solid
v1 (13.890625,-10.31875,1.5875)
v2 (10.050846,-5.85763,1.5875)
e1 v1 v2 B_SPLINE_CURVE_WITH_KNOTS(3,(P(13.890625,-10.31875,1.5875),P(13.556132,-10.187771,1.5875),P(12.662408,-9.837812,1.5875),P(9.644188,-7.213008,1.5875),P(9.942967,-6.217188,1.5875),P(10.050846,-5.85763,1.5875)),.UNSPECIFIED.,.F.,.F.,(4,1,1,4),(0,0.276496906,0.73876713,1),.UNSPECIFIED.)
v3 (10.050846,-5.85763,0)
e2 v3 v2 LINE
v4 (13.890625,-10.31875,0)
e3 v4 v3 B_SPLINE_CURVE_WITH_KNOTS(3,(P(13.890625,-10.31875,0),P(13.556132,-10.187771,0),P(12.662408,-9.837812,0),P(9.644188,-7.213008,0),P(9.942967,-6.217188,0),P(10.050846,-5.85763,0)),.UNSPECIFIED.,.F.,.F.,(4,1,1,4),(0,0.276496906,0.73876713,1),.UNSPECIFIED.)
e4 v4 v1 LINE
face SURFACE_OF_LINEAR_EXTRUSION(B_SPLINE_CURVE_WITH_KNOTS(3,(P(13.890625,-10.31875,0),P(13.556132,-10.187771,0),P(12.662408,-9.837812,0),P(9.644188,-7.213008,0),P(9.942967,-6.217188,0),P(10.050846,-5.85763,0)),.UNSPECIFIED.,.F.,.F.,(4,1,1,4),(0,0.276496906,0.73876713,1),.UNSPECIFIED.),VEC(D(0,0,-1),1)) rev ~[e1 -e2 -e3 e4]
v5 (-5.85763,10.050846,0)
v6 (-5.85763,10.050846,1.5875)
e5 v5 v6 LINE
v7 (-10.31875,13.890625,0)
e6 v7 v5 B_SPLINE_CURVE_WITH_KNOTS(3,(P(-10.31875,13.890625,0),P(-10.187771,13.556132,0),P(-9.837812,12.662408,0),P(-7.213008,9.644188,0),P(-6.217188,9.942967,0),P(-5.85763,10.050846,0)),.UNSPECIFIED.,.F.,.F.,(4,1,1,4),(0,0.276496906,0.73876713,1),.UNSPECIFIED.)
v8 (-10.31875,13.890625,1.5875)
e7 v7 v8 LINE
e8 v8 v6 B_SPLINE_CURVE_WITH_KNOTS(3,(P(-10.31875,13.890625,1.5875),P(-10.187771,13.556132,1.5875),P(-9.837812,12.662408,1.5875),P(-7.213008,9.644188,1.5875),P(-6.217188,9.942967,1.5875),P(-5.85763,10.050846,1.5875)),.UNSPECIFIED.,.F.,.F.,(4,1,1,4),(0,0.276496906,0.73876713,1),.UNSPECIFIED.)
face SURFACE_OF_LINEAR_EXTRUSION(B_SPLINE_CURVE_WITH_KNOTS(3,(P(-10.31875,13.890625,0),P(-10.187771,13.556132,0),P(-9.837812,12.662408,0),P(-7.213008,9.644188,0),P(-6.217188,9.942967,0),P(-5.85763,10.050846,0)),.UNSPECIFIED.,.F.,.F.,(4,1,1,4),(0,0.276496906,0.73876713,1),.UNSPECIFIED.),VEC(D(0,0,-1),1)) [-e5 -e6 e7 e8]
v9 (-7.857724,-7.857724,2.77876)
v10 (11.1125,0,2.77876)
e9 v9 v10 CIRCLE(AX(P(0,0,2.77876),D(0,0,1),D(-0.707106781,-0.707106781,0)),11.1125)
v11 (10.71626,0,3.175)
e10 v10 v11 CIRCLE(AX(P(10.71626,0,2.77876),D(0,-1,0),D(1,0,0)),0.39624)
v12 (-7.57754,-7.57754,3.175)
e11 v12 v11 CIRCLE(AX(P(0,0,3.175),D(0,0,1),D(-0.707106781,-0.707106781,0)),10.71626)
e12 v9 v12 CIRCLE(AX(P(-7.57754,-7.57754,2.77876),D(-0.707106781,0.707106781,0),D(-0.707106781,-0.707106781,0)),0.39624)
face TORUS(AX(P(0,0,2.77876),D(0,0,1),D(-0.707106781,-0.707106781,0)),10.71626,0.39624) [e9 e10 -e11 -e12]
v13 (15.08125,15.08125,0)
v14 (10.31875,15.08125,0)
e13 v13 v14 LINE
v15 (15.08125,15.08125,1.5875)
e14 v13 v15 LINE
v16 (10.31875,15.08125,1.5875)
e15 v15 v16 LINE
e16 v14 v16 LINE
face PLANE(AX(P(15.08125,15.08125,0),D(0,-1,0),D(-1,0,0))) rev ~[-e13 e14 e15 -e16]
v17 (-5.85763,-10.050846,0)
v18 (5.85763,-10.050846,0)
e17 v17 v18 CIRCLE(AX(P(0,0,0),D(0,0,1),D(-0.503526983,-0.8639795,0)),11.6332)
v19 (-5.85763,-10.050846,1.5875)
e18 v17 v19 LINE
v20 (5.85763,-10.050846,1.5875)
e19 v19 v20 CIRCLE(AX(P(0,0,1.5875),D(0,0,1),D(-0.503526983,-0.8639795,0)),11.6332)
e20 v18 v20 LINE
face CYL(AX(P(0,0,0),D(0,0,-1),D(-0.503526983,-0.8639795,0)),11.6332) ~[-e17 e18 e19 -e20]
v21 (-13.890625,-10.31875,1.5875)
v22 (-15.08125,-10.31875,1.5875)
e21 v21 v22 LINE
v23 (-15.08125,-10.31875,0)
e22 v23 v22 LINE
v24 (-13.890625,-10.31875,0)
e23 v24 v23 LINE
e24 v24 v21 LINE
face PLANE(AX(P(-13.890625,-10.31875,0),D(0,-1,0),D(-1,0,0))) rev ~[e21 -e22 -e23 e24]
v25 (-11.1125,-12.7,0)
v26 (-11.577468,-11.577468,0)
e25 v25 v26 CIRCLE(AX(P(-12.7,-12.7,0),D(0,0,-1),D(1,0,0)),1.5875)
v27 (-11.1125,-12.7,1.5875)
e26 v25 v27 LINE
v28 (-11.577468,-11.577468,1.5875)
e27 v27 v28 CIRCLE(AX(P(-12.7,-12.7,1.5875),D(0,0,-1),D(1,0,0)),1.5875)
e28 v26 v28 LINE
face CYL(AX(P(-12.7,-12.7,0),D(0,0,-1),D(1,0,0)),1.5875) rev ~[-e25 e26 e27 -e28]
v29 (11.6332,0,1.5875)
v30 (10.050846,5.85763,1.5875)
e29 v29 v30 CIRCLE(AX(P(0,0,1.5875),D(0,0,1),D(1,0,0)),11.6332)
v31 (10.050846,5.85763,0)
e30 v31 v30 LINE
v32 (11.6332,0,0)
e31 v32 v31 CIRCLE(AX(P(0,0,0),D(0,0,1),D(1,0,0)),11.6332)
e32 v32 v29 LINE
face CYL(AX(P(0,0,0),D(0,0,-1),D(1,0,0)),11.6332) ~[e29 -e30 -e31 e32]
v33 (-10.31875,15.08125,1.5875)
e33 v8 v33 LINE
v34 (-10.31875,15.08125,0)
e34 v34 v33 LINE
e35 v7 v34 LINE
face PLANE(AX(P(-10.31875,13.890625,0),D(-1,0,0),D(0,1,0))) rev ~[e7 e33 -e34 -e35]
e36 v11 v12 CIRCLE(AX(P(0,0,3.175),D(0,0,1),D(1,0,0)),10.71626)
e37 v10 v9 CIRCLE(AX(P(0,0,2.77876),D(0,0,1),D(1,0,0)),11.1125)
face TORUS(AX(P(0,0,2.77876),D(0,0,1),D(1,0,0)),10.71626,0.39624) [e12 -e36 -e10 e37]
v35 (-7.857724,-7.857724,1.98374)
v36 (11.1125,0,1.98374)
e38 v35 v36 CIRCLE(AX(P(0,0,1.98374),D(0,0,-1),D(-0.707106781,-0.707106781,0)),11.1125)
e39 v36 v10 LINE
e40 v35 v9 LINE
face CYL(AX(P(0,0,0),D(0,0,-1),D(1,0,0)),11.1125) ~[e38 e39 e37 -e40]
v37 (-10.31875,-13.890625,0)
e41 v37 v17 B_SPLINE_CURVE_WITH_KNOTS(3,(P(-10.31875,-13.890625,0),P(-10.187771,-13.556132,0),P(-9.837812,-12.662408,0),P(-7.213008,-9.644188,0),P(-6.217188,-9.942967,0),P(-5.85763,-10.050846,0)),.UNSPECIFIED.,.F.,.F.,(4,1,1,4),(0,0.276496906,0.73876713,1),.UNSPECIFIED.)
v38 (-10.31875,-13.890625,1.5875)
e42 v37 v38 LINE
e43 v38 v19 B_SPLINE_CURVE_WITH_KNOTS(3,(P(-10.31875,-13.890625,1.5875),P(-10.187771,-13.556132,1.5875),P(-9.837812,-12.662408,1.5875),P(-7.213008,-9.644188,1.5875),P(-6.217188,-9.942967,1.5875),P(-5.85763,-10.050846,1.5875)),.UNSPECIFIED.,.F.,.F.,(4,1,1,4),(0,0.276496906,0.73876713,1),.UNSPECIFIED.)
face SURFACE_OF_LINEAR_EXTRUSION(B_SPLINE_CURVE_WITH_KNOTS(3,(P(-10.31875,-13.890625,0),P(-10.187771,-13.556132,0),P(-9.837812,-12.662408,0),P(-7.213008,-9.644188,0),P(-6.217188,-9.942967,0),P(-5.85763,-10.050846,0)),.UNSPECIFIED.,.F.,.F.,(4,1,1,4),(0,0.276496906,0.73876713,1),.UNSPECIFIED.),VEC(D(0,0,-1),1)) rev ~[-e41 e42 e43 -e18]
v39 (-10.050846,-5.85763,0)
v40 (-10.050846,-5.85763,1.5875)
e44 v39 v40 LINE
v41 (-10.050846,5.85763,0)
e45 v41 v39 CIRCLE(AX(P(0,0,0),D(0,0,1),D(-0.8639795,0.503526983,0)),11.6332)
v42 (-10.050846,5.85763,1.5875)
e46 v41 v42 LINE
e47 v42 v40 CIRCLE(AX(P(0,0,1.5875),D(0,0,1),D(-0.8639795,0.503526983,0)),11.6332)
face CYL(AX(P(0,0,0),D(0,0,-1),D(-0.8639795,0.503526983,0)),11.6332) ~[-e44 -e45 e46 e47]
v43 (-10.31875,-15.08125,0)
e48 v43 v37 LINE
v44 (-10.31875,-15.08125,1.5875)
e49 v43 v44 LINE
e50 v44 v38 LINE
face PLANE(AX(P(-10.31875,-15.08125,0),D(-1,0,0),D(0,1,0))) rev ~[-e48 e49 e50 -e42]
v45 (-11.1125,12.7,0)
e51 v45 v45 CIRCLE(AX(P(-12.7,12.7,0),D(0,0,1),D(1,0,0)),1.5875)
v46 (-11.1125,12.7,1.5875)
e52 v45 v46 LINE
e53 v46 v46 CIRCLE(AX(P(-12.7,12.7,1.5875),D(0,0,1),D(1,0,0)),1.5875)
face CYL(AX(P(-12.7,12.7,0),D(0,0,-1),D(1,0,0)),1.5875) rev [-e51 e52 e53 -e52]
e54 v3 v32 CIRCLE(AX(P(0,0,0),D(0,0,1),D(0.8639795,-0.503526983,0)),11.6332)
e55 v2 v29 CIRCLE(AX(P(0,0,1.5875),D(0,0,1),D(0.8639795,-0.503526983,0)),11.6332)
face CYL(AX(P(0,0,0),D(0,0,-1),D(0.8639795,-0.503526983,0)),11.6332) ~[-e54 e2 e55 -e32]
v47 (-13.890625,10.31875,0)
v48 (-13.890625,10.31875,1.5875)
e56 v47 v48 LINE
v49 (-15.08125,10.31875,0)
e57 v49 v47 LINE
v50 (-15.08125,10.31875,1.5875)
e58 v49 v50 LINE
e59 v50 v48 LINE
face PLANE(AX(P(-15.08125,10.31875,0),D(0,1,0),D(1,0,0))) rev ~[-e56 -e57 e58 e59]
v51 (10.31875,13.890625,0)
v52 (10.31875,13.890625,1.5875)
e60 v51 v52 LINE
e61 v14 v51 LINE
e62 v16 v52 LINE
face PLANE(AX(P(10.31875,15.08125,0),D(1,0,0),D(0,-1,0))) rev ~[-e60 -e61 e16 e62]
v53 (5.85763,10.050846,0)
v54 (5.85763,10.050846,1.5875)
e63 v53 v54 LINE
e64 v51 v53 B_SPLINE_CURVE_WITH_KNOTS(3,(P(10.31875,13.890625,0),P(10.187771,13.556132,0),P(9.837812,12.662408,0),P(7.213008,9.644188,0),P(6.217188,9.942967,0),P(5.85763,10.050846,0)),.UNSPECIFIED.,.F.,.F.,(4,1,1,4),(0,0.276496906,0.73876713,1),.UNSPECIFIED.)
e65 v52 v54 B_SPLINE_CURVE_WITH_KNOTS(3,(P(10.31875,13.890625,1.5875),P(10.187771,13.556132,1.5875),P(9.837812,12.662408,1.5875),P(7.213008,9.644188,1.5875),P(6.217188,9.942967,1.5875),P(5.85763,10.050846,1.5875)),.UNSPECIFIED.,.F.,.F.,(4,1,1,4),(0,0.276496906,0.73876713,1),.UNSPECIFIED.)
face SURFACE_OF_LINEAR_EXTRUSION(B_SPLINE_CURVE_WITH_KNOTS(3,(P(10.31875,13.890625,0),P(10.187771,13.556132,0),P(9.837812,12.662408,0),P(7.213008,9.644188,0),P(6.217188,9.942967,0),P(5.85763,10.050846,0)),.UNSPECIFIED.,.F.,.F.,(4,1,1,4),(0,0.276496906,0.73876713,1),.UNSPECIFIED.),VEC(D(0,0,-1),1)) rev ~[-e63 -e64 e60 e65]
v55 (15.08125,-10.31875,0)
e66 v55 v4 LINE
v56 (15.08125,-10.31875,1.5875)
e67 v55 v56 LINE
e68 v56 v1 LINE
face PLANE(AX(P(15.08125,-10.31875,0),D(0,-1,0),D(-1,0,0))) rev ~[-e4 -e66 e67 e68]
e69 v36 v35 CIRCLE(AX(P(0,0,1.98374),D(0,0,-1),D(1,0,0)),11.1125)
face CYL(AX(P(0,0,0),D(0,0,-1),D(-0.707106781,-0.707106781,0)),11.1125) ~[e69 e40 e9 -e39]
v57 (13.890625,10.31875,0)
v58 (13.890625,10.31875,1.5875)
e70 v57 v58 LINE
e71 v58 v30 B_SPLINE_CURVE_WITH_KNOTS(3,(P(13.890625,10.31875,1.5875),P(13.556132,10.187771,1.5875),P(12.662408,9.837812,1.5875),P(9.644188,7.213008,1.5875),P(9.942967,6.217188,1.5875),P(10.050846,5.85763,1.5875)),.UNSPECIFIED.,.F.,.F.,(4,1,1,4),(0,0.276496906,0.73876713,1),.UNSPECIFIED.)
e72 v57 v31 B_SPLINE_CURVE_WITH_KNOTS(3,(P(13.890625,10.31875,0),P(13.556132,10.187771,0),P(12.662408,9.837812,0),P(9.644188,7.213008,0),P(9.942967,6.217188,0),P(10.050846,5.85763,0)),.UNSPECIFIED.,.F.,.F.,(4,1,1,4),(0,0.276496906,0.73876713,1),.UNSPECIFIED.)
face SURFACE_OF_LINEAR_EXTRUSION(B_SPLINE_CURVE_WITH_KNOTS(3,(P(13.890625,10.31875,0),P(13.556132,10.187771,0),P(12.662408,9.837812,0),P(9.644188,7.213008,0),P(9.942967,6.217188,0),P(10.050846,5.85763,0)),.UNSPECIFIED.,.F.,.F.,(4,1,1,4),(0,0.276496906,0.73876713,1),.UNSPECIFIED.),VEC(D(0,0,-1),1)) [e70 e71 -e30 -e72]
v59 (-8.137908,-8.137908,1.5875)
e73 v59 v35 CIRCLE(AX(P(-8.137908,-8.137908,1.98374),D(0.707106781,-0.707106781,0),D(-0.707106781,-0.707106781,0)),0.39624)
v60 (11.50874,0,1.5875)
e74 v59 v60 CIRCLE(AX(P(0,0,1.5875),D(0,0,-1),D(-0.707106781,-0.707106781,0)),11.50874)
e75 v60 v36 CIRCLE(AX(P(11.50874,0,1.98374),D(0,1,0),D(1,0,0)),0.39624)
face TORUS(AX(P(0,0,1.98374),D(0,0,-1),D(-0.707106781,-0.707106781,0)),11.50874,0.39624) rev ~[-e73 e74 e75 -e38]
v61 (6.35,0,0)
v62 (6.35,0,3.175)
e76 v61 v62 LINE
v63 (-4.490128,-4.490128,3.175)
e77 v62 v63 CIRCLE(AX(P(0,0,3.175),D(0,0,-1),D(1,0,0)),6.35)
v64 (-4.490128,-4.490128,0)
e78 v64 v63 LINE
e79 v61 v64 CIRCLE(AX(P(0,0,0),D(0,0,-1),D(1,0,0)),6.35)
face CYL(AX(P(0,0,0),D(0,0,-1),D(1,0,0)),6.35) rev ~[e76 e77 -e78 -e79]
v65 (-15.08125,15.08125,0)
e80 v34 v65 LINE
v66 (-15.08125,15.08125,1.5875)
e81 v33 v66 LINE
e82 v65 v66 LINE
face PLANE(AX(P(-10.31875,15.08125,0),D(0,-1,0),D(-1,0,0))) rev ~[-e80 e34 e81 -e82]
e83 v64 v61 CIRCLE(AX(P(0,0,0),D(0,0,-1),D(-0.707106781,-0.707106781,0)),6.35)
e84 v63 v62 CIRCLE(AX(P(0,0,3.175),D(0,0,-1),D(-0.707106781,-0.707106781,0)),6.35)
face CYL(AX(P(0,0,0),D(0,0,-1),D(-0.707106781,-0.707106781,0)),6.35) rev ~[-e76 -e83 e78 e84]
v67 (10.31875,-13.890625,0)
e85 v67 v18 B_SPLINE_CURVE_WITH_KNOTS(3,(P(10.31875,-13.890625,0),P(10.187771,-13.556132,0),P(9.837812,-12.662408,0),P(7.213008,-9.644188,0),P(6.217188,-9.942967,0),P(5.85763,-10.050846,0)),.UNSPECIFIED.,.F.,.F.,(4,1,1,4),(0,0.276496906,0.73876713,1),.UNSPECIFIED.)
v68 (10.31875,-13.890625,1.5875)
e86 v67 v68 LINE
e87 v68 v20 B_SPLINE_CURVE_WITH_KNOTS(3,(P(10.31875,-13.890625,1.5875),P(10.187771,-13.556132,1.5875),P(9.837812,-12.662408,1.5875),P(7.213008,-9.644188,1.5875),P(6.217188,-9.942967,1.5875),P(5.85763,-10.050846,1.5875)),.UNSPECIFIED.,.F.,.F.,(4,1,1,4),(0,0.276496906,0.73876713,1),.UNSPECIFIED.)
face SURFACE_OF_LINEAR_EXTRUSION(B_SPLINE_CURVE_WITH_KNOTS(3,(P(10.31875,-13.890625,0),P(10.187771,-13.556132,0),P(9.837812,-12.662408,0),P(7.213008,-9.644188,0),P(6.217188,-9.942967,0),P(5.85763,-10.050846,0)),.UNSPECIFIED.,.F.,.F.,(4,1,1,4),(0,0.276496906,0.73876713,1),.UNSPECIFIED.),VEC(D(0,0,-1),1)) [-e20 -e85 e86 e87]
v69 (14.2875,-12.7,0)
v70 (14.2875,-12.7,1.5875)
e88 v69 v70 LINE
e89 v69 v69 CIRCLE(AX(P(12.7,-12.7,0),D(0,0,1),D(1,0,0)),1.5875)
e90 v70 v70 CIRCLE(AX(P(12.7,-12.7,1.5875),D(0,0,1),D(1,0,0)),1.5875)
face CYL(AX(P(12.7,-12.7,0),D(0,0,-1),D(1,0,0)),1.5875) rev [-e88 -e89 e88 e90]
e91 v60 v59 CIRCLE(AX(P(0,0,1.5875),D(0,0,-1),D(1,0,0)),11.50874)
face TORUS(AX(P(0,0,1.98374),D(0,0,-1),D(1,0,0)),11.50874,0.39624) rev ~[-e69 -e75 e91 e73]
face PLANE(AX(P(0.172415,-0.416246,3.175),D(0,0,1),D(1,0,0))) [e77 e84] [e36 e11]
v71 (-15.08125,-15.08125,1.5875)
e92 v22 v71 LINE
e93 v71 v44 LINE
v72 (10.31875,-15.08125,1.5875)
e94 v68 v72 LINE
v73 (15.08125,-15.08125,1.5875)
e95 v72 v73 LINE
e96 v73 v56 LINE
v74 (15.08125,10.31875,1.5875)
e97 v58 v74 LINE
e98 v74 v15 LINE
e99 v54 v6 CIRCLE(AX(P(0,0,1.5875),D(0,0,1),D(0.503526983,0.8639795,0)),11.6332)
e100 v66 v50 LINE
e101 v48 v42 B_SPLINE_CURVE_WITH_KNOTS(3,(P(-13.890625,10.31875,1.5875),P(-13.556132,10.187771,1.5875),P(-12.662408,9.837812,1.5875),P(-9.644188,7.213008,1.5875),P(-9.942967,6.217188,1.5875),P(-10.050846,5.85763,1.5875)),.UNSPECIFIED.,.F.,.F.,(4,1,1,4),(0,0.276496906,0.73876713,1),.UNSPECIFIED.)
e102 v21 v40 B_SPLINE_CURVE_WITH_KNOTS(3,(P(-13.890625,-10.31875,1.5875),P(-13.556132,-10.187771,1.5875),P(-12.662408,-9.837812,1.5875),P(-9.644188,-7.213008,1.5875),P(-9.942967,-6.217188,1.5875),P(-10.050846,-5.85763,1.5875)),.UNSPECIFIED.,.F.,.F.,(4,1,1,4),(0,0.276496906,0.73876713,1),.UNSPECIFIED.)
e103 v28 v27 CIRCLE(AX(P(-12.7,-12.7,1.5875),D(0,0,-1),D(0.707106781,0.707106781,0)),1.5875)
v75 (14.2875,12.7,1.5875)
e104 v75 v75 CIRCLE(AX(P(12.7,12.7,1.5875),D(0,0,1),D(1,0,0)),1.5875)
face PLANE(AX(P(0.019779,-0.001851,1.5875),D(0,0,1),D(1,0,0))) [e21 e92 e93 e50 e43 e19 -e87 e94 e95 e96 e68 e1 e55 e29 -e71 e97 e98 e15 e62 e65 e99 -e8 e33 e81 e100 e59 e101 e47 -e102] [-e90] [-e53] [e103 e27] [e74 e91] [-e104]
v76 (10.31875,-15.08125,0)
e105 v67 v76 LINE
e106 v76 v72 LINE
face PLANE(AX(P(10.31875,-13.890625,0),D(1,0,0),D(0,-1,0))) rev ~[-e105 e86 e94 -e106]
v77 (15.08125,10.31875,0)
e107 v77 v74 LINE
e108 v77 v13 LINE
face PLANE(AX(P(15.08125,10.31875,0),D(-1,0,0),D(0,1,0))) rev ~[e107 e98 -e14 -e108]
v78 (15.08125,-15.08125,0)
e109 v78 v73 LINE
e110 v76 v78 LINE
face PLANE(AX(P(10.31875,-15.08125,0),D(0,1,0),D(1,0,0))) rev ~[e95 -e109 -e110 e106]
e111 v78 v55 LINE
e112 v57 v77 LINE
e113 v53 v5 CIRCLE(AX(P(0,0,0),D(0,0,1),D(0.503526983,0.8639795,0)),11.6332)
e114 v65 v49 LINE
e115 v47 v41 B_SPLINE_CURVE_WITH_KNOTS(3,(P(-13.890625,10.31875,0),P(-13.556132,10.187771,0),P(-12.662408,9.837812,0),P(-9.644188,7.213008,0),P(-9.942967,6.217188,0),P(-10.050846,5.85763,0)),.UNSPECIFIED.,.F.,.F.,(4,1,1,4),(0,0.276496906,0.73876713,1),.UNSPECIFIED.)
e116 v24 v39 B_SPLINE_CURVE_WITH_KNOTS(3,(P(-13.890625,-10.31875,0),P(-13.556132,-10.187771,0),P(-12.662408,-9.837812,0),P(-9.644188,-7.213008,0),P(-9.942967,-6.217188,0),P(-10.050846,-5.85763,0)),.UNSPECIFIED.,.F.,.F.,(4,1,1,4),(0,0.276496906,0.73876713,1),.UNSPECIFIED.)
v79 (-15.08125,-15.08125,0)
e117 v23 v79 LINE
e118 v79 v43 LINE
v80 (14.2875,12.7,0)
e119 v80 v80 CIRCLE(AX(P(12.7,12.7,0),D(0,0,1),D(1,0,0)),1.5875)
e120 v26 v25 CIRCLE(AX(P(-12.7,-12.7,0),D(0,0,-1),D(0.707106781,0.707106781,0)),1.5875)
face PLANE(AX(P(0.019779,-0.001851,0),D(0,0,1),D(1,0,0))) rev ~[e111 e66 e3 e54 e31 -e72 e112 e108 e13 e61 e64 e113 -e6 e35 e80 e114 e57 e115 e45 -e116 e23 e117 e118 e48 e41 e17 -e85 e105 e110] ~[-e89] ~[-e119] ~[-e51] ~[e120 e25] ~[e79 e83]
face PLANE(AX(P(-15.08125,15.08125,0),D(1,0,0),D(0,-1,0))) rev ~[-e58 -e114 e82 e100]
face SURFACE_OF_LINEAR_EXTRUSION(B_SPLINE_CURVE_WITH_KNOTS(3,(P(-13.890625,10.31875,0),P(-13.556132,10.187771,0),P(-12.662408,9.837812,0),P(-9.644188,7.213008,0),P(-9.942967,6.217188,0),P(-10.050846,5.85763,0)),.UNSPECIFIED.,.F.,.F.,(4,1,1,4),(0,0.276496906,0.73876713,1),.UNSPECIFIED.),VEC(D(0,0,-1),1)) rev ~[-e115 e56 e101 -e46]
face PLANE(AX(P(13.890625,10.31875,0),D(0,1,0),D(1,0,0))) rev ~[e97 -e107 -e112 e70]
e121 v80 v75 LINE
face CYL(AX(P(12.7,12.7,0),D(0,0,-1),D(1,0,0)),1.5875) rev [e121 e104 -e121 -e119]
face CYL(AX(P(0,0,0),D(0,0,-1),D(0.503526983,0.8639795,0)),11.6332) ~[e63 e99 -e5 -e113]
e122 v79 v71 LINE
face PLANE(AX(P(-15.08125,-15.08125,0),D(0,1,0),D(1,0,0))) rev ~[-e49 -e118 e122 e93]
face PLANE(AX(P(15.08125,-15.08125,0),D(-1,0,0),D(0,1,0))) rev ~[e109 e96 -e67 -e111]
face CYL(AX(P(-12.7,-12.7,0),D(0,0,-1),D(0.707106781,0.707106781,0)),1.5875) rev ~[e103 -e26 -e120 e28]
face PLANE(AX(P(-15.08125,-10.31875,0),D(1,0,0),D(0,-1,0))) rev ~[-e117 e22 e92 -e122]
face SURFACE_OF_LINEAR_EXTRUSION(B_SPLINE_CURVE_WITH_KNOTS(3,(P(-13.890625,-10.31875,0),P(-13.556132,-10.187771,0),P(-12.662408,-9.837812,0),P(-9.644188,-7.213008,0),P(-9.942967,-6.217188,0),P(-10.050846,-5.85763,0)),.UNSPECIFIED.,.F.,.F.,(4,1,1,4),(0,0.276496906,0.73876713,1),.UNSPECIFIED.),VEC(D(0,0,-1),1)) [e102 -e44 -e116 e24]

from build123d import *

# Parameters (mm, degrees)
F1_DEPTH = 3.175
F0_R     = 1.5875
F2_DEPTH = 1.5875
F3_R     = 0.39624


with BuildPart() as f1:
    # F0 (on Top) → F1 (new body)
    with BuildSketch(Plane.XY):
        with BuildLine():
            ThreePointArc((11.1125, 0), (-4.2525696422, 10.266611305), (-7.8577241059, -7.8577241059))
            ThreePointArc((-7.8577241059, -7.8577241059), (4.2525696422, -10.266611305), (11.1125, 0))
        make_face()
        with BuildLine():
            ThreePointArc((6.35, 0), (2.4300397955, -5.8666350314), (-4.4901280605, -4.4901280605))
            ThreePointArc((-4.4901280605, -4.4901280605), (-2.4300397955, 5.8666350314), (6.35, 0))
        make_face(mode=Mode.SUBTRACT)
    extrude(amount=F1_DEPTH)

    # F0 (on Top) → F2 (join)
    with BuildSketch(Plane.XY):
        with BuildLine():
            ThreePointArc((10.0508463237, -5.8576301025), (11.2306466353, -3.0337960369), (11.6332, 0))
            ThreePointArc((11.6332, 0), (11.2306466353, 3.0337960369), (10.0508463237, 5.8576301025))
            ThreePointArc((10.0508463237, 5.8576301025), (8.2259146069, 8.2259146069), (5.8576301025, 10.0508463237))
            ThreePointArc((5.8576301025, 10.0508463237), (0, 11.6332), (-5.8576301025, 10.0508463237))
            ThreePointArc((-5.8576301025, 10.0508463237), (-8.2259146069, 8.2259146069), (-10.0508463237, 5.8576301025))
            ThreePointArc((-10.0508463237, 5.8576301025), (-11.6332, 0), (-10.0508463237, -5.8576301025))
            ThreePointArc((-10.0508463237, -5.8576301025), (-9.2147810827, -7.1006444664), (-8.2259146069, -8.2259146069))
            ThreePointArc((-8.2259146069, -8.2259146069), (-7.1006444664, -9.2147810827), (-5.8576301025, -10.0508463237))
            ThreePointArc((-5.8576301025, -10.0508463237), (0, -11.6332), (5.8576301025, -10.0508463237))
            ThreePointArc((5.8576301025, -10.0508463237), (8.2259146069, -8.2259146069), (10.0508463237, -5.8576301025))
        make_face()
        with BuildLine():
            ThreePointArc((11.1125, 0), (4.2525696422, -10.266611305), (-7.8577241059, -7.8577241059))
            ThreePointArc((-7.8577241059, -7.8577241059), (-4.2525696422, 10.266611305), (11.1125, 0))
        make_face(mode=Mode.SUBTRACT)
        with BuildLine():
            ThreePointArc((-10.0508463237, 5.8576301025), (-8.2259146069, 8.2259146069), (-5.8576301025, 10.0508463237))
            add(Edge.make_bspline(
                [(-10.31875, 13.890625), (-10.1877713535, 13.556132491), (-9.8378118548, 12.6624079499), (-7.2130077738, 9.6441879633), (-6.2171876005, 9.9429671209), (-5.8576301025, 10.0508463237)],
                knots=[0, 0, 0, 0, 0.2764969064, 0.7387671297, 1, 1, 1, 1], degree=3))
            Line((-10.31875, 13.890625), (-10.31875, 10.31875))
            Line((-10.31875, 10.31875), (-13.890625, 10.31875))
            add(Edge.make_bspline(
                [(-13.890625, 10.31875), (-13.556132491, 10.1877713535), (-12.6624079499, 9.8378118548), (-9.6441879633, 7.2130077738), (-9.9429671209, 6.2171876005), (-10.0508463237, 5.8576301025)],
                knots=[0, 0, 0, 0, 0.2764969064, 0.7387671297, 1, 1, 1, 1], degree=3))
        make_face()
        Polygon((-10.31875, 10.31875), (-10.31875, 13.890625), (-10.31875, 15.08125), (-15.08125, 15.08125), (-15.08125, 10.31875), (-13.890625, 10.31875), align=None)
        with Locations((-12.7, 12.7)):
            Circle(F0_R, mode=Mode.SUBTRACT)
        with BuildLine():
            ThreePointArc((5.8576301025, 10.0508463237), (8.2259146069, 8.2259146069), (10.0508463237, 5.8576301025))
            add(Edge.make_bspline(
                [(13.890625, 10.31875), (13.556132491, 10.1877713535), (12.6624079499, 9.8378118548), (9.6441879633, 7.2130077738), (9.9429671209, 6.2171876005), (10.0508463237, 5.8576301025)],
                knots=[0, 0, 0, 0, 0.2764969064, 0.7387671297, 1, 1, 1, 1], degree=3))
            Line((13.890625, 10.31875), (10.31875, 10.31875))
            Line((10.31875, 10.31875), (10.31875, 13.890625))
            add(Edge.make_bspline(
                [(10.31875, 13.890625), (10.1877713535, 13.556132491), (9.8378118548, 12.6624079499), (7.2130077738, 9.6441879633), (6.2171876005, 9.9429671209), (5.8576301025, 10.0508463237)],
                knots=[0, 0, 0, 0, 0.2764969064, 0.7387671297, 1, 1, 1, 1], degree=3))
        make_face()
        Polygon((10.31875, 10.31875), (13.890625, 10.31875), (15.08125, 10.31875), (15.08125, 15.08125), (10.31875, 15.08125), (10.31875, 13.890625), align=None)
        with Locations((12.7, 12.7)):
            Circle(F0_R, mode=Mode.SUBTRACT)
        with BuildLine():
            add(Edge.make_bspline(
                [(13.890625, -10.31875), (13.556132491, -10.1877713535), (12.6624079499, -9.8378118548), (9.6441879633, -7.2130077738), (9.9429671209, -6.2171876005), (10.0508463237, -5.8576301025)],
                knots=[0, 0, 0, 0, 0.2764969064, 0.7387671297, 1, 1, 1, 1], degree=3))
            ThreePointArc((10.0508463237, -5.8576301025), (8.2259146069, -8.2259146069), (5.8576301025, -10.0508463237))
            add(Edge.make_bspline(
                [(10.31875, -13.890625), (10.1877713535, -13.556132491), (9.8378118548, -12.6624079499), (7.2130077738, -9.6441879633), (6.2171876005, -9.9429671209), (5.8576301025, -10.0508463237)],
                knots=[0, 0, 0, 0, 0.2764969064, 0.7387671297, 1, 1, 1, 1], degree=3))
            Line((10.31875, -13.890625), (10.31875, -10.31875))
            Line((10.31875, -10.31875), (13.890625, -10.31875))
        make_face()
        Polygon((15.08125, -10.31875), (13.890625, -10.31875), (10.31875, -10.31875), (10.31875, -13.890625), (10.31875, -15.08125), (15.08125, -15.08125), align=None)
        with Locations((12.7, -12.7)):
            Circle(F0_R, mode=Mode.SUBTRACT)
        with BuildLine():
            add(Edge.make_bspline(
                [(-10.31875, -13.890625), (-10.1877713535, -13.556132491), (-9.8378118548, -12.6624079499), (-7.2130077738, -9.6441879633), (-6.2171876005, -9.9429671209), (-5.8576301025, -10.0508463237)],
                knots=[0, 0, 0, 0, 0.2764969064, 0.7387671297, 1, 1, 1, 1], degree=3))
            ThreePointArc((-5.8576301025, -10.0508463237), (-7.1006444664, -9.2147810827), (-8.2259146069, -8.2259146069))
            Line((-8.2259146069, -8.2259146069), (-10.31875, -10.31875))
            Line((-10.31875, -10.31875), (-10.31875, -13.890625))
        make_face()
        with BuildLine():
            Line((-10.31875, -10.31875), (-8.2259146069, -8.2259146069))
            ThreePointArc((-8.2259146069, -8.2259146069), (-9.2147810827, -7.1006444664), (-10.0508463237, -5.8576301025))
            add(Edge.make_bspline(
                [(-13.890625, -10.31875), (-13.556132491, -10.1877713535), (-12.6624079499, -9.8378118548), (-9.6441879633, -7.2130077738), (-9.9429671209, -6.2171876005), (-10.0508463237, -5.8576301025)],
                knots=[0, 0, 0, 0, 0.2764969064, 0.7387671297, 1, 1, 1, 1], degree=3))
            Line((-13.890625, -10.31875), (-10.31875, -10.31875))
        make_face()
        Polygon((-10.31875, -15.08125), (-10.31875, -13.890625), (-10.31875, -10.31875), (-13.890625, -10.31875), (-15.08125, -10.31875), (-15.08125, -15.08125), align=None)
        with BuildLine():
            ThreePointArc((-11.1125, -12.7), (-14.1666587579, -13.3075099489), (-11.5774679849, -11.5774679849))
            ThreePointArc((-11.5774679849, -11.5774679849), (-11.2333412421, -12.0924900511), (-11.1125, -12.7))
        make_face(mode=Mode.SUBTRACT)
    extrude(amount=F2_DEPTH)

    # F3
    f3_edges = [f1.edges().sort_by_distance(p)[0] for p in [
        (7.857724, 7.857724, 1.5875),
        (-7.857724, -7.857724, 2.38125),
        (7.857724, 7.857724, 3.175),
    ]]
    fillet(f3_edges, radius=F3_R)


solid = f1.part
